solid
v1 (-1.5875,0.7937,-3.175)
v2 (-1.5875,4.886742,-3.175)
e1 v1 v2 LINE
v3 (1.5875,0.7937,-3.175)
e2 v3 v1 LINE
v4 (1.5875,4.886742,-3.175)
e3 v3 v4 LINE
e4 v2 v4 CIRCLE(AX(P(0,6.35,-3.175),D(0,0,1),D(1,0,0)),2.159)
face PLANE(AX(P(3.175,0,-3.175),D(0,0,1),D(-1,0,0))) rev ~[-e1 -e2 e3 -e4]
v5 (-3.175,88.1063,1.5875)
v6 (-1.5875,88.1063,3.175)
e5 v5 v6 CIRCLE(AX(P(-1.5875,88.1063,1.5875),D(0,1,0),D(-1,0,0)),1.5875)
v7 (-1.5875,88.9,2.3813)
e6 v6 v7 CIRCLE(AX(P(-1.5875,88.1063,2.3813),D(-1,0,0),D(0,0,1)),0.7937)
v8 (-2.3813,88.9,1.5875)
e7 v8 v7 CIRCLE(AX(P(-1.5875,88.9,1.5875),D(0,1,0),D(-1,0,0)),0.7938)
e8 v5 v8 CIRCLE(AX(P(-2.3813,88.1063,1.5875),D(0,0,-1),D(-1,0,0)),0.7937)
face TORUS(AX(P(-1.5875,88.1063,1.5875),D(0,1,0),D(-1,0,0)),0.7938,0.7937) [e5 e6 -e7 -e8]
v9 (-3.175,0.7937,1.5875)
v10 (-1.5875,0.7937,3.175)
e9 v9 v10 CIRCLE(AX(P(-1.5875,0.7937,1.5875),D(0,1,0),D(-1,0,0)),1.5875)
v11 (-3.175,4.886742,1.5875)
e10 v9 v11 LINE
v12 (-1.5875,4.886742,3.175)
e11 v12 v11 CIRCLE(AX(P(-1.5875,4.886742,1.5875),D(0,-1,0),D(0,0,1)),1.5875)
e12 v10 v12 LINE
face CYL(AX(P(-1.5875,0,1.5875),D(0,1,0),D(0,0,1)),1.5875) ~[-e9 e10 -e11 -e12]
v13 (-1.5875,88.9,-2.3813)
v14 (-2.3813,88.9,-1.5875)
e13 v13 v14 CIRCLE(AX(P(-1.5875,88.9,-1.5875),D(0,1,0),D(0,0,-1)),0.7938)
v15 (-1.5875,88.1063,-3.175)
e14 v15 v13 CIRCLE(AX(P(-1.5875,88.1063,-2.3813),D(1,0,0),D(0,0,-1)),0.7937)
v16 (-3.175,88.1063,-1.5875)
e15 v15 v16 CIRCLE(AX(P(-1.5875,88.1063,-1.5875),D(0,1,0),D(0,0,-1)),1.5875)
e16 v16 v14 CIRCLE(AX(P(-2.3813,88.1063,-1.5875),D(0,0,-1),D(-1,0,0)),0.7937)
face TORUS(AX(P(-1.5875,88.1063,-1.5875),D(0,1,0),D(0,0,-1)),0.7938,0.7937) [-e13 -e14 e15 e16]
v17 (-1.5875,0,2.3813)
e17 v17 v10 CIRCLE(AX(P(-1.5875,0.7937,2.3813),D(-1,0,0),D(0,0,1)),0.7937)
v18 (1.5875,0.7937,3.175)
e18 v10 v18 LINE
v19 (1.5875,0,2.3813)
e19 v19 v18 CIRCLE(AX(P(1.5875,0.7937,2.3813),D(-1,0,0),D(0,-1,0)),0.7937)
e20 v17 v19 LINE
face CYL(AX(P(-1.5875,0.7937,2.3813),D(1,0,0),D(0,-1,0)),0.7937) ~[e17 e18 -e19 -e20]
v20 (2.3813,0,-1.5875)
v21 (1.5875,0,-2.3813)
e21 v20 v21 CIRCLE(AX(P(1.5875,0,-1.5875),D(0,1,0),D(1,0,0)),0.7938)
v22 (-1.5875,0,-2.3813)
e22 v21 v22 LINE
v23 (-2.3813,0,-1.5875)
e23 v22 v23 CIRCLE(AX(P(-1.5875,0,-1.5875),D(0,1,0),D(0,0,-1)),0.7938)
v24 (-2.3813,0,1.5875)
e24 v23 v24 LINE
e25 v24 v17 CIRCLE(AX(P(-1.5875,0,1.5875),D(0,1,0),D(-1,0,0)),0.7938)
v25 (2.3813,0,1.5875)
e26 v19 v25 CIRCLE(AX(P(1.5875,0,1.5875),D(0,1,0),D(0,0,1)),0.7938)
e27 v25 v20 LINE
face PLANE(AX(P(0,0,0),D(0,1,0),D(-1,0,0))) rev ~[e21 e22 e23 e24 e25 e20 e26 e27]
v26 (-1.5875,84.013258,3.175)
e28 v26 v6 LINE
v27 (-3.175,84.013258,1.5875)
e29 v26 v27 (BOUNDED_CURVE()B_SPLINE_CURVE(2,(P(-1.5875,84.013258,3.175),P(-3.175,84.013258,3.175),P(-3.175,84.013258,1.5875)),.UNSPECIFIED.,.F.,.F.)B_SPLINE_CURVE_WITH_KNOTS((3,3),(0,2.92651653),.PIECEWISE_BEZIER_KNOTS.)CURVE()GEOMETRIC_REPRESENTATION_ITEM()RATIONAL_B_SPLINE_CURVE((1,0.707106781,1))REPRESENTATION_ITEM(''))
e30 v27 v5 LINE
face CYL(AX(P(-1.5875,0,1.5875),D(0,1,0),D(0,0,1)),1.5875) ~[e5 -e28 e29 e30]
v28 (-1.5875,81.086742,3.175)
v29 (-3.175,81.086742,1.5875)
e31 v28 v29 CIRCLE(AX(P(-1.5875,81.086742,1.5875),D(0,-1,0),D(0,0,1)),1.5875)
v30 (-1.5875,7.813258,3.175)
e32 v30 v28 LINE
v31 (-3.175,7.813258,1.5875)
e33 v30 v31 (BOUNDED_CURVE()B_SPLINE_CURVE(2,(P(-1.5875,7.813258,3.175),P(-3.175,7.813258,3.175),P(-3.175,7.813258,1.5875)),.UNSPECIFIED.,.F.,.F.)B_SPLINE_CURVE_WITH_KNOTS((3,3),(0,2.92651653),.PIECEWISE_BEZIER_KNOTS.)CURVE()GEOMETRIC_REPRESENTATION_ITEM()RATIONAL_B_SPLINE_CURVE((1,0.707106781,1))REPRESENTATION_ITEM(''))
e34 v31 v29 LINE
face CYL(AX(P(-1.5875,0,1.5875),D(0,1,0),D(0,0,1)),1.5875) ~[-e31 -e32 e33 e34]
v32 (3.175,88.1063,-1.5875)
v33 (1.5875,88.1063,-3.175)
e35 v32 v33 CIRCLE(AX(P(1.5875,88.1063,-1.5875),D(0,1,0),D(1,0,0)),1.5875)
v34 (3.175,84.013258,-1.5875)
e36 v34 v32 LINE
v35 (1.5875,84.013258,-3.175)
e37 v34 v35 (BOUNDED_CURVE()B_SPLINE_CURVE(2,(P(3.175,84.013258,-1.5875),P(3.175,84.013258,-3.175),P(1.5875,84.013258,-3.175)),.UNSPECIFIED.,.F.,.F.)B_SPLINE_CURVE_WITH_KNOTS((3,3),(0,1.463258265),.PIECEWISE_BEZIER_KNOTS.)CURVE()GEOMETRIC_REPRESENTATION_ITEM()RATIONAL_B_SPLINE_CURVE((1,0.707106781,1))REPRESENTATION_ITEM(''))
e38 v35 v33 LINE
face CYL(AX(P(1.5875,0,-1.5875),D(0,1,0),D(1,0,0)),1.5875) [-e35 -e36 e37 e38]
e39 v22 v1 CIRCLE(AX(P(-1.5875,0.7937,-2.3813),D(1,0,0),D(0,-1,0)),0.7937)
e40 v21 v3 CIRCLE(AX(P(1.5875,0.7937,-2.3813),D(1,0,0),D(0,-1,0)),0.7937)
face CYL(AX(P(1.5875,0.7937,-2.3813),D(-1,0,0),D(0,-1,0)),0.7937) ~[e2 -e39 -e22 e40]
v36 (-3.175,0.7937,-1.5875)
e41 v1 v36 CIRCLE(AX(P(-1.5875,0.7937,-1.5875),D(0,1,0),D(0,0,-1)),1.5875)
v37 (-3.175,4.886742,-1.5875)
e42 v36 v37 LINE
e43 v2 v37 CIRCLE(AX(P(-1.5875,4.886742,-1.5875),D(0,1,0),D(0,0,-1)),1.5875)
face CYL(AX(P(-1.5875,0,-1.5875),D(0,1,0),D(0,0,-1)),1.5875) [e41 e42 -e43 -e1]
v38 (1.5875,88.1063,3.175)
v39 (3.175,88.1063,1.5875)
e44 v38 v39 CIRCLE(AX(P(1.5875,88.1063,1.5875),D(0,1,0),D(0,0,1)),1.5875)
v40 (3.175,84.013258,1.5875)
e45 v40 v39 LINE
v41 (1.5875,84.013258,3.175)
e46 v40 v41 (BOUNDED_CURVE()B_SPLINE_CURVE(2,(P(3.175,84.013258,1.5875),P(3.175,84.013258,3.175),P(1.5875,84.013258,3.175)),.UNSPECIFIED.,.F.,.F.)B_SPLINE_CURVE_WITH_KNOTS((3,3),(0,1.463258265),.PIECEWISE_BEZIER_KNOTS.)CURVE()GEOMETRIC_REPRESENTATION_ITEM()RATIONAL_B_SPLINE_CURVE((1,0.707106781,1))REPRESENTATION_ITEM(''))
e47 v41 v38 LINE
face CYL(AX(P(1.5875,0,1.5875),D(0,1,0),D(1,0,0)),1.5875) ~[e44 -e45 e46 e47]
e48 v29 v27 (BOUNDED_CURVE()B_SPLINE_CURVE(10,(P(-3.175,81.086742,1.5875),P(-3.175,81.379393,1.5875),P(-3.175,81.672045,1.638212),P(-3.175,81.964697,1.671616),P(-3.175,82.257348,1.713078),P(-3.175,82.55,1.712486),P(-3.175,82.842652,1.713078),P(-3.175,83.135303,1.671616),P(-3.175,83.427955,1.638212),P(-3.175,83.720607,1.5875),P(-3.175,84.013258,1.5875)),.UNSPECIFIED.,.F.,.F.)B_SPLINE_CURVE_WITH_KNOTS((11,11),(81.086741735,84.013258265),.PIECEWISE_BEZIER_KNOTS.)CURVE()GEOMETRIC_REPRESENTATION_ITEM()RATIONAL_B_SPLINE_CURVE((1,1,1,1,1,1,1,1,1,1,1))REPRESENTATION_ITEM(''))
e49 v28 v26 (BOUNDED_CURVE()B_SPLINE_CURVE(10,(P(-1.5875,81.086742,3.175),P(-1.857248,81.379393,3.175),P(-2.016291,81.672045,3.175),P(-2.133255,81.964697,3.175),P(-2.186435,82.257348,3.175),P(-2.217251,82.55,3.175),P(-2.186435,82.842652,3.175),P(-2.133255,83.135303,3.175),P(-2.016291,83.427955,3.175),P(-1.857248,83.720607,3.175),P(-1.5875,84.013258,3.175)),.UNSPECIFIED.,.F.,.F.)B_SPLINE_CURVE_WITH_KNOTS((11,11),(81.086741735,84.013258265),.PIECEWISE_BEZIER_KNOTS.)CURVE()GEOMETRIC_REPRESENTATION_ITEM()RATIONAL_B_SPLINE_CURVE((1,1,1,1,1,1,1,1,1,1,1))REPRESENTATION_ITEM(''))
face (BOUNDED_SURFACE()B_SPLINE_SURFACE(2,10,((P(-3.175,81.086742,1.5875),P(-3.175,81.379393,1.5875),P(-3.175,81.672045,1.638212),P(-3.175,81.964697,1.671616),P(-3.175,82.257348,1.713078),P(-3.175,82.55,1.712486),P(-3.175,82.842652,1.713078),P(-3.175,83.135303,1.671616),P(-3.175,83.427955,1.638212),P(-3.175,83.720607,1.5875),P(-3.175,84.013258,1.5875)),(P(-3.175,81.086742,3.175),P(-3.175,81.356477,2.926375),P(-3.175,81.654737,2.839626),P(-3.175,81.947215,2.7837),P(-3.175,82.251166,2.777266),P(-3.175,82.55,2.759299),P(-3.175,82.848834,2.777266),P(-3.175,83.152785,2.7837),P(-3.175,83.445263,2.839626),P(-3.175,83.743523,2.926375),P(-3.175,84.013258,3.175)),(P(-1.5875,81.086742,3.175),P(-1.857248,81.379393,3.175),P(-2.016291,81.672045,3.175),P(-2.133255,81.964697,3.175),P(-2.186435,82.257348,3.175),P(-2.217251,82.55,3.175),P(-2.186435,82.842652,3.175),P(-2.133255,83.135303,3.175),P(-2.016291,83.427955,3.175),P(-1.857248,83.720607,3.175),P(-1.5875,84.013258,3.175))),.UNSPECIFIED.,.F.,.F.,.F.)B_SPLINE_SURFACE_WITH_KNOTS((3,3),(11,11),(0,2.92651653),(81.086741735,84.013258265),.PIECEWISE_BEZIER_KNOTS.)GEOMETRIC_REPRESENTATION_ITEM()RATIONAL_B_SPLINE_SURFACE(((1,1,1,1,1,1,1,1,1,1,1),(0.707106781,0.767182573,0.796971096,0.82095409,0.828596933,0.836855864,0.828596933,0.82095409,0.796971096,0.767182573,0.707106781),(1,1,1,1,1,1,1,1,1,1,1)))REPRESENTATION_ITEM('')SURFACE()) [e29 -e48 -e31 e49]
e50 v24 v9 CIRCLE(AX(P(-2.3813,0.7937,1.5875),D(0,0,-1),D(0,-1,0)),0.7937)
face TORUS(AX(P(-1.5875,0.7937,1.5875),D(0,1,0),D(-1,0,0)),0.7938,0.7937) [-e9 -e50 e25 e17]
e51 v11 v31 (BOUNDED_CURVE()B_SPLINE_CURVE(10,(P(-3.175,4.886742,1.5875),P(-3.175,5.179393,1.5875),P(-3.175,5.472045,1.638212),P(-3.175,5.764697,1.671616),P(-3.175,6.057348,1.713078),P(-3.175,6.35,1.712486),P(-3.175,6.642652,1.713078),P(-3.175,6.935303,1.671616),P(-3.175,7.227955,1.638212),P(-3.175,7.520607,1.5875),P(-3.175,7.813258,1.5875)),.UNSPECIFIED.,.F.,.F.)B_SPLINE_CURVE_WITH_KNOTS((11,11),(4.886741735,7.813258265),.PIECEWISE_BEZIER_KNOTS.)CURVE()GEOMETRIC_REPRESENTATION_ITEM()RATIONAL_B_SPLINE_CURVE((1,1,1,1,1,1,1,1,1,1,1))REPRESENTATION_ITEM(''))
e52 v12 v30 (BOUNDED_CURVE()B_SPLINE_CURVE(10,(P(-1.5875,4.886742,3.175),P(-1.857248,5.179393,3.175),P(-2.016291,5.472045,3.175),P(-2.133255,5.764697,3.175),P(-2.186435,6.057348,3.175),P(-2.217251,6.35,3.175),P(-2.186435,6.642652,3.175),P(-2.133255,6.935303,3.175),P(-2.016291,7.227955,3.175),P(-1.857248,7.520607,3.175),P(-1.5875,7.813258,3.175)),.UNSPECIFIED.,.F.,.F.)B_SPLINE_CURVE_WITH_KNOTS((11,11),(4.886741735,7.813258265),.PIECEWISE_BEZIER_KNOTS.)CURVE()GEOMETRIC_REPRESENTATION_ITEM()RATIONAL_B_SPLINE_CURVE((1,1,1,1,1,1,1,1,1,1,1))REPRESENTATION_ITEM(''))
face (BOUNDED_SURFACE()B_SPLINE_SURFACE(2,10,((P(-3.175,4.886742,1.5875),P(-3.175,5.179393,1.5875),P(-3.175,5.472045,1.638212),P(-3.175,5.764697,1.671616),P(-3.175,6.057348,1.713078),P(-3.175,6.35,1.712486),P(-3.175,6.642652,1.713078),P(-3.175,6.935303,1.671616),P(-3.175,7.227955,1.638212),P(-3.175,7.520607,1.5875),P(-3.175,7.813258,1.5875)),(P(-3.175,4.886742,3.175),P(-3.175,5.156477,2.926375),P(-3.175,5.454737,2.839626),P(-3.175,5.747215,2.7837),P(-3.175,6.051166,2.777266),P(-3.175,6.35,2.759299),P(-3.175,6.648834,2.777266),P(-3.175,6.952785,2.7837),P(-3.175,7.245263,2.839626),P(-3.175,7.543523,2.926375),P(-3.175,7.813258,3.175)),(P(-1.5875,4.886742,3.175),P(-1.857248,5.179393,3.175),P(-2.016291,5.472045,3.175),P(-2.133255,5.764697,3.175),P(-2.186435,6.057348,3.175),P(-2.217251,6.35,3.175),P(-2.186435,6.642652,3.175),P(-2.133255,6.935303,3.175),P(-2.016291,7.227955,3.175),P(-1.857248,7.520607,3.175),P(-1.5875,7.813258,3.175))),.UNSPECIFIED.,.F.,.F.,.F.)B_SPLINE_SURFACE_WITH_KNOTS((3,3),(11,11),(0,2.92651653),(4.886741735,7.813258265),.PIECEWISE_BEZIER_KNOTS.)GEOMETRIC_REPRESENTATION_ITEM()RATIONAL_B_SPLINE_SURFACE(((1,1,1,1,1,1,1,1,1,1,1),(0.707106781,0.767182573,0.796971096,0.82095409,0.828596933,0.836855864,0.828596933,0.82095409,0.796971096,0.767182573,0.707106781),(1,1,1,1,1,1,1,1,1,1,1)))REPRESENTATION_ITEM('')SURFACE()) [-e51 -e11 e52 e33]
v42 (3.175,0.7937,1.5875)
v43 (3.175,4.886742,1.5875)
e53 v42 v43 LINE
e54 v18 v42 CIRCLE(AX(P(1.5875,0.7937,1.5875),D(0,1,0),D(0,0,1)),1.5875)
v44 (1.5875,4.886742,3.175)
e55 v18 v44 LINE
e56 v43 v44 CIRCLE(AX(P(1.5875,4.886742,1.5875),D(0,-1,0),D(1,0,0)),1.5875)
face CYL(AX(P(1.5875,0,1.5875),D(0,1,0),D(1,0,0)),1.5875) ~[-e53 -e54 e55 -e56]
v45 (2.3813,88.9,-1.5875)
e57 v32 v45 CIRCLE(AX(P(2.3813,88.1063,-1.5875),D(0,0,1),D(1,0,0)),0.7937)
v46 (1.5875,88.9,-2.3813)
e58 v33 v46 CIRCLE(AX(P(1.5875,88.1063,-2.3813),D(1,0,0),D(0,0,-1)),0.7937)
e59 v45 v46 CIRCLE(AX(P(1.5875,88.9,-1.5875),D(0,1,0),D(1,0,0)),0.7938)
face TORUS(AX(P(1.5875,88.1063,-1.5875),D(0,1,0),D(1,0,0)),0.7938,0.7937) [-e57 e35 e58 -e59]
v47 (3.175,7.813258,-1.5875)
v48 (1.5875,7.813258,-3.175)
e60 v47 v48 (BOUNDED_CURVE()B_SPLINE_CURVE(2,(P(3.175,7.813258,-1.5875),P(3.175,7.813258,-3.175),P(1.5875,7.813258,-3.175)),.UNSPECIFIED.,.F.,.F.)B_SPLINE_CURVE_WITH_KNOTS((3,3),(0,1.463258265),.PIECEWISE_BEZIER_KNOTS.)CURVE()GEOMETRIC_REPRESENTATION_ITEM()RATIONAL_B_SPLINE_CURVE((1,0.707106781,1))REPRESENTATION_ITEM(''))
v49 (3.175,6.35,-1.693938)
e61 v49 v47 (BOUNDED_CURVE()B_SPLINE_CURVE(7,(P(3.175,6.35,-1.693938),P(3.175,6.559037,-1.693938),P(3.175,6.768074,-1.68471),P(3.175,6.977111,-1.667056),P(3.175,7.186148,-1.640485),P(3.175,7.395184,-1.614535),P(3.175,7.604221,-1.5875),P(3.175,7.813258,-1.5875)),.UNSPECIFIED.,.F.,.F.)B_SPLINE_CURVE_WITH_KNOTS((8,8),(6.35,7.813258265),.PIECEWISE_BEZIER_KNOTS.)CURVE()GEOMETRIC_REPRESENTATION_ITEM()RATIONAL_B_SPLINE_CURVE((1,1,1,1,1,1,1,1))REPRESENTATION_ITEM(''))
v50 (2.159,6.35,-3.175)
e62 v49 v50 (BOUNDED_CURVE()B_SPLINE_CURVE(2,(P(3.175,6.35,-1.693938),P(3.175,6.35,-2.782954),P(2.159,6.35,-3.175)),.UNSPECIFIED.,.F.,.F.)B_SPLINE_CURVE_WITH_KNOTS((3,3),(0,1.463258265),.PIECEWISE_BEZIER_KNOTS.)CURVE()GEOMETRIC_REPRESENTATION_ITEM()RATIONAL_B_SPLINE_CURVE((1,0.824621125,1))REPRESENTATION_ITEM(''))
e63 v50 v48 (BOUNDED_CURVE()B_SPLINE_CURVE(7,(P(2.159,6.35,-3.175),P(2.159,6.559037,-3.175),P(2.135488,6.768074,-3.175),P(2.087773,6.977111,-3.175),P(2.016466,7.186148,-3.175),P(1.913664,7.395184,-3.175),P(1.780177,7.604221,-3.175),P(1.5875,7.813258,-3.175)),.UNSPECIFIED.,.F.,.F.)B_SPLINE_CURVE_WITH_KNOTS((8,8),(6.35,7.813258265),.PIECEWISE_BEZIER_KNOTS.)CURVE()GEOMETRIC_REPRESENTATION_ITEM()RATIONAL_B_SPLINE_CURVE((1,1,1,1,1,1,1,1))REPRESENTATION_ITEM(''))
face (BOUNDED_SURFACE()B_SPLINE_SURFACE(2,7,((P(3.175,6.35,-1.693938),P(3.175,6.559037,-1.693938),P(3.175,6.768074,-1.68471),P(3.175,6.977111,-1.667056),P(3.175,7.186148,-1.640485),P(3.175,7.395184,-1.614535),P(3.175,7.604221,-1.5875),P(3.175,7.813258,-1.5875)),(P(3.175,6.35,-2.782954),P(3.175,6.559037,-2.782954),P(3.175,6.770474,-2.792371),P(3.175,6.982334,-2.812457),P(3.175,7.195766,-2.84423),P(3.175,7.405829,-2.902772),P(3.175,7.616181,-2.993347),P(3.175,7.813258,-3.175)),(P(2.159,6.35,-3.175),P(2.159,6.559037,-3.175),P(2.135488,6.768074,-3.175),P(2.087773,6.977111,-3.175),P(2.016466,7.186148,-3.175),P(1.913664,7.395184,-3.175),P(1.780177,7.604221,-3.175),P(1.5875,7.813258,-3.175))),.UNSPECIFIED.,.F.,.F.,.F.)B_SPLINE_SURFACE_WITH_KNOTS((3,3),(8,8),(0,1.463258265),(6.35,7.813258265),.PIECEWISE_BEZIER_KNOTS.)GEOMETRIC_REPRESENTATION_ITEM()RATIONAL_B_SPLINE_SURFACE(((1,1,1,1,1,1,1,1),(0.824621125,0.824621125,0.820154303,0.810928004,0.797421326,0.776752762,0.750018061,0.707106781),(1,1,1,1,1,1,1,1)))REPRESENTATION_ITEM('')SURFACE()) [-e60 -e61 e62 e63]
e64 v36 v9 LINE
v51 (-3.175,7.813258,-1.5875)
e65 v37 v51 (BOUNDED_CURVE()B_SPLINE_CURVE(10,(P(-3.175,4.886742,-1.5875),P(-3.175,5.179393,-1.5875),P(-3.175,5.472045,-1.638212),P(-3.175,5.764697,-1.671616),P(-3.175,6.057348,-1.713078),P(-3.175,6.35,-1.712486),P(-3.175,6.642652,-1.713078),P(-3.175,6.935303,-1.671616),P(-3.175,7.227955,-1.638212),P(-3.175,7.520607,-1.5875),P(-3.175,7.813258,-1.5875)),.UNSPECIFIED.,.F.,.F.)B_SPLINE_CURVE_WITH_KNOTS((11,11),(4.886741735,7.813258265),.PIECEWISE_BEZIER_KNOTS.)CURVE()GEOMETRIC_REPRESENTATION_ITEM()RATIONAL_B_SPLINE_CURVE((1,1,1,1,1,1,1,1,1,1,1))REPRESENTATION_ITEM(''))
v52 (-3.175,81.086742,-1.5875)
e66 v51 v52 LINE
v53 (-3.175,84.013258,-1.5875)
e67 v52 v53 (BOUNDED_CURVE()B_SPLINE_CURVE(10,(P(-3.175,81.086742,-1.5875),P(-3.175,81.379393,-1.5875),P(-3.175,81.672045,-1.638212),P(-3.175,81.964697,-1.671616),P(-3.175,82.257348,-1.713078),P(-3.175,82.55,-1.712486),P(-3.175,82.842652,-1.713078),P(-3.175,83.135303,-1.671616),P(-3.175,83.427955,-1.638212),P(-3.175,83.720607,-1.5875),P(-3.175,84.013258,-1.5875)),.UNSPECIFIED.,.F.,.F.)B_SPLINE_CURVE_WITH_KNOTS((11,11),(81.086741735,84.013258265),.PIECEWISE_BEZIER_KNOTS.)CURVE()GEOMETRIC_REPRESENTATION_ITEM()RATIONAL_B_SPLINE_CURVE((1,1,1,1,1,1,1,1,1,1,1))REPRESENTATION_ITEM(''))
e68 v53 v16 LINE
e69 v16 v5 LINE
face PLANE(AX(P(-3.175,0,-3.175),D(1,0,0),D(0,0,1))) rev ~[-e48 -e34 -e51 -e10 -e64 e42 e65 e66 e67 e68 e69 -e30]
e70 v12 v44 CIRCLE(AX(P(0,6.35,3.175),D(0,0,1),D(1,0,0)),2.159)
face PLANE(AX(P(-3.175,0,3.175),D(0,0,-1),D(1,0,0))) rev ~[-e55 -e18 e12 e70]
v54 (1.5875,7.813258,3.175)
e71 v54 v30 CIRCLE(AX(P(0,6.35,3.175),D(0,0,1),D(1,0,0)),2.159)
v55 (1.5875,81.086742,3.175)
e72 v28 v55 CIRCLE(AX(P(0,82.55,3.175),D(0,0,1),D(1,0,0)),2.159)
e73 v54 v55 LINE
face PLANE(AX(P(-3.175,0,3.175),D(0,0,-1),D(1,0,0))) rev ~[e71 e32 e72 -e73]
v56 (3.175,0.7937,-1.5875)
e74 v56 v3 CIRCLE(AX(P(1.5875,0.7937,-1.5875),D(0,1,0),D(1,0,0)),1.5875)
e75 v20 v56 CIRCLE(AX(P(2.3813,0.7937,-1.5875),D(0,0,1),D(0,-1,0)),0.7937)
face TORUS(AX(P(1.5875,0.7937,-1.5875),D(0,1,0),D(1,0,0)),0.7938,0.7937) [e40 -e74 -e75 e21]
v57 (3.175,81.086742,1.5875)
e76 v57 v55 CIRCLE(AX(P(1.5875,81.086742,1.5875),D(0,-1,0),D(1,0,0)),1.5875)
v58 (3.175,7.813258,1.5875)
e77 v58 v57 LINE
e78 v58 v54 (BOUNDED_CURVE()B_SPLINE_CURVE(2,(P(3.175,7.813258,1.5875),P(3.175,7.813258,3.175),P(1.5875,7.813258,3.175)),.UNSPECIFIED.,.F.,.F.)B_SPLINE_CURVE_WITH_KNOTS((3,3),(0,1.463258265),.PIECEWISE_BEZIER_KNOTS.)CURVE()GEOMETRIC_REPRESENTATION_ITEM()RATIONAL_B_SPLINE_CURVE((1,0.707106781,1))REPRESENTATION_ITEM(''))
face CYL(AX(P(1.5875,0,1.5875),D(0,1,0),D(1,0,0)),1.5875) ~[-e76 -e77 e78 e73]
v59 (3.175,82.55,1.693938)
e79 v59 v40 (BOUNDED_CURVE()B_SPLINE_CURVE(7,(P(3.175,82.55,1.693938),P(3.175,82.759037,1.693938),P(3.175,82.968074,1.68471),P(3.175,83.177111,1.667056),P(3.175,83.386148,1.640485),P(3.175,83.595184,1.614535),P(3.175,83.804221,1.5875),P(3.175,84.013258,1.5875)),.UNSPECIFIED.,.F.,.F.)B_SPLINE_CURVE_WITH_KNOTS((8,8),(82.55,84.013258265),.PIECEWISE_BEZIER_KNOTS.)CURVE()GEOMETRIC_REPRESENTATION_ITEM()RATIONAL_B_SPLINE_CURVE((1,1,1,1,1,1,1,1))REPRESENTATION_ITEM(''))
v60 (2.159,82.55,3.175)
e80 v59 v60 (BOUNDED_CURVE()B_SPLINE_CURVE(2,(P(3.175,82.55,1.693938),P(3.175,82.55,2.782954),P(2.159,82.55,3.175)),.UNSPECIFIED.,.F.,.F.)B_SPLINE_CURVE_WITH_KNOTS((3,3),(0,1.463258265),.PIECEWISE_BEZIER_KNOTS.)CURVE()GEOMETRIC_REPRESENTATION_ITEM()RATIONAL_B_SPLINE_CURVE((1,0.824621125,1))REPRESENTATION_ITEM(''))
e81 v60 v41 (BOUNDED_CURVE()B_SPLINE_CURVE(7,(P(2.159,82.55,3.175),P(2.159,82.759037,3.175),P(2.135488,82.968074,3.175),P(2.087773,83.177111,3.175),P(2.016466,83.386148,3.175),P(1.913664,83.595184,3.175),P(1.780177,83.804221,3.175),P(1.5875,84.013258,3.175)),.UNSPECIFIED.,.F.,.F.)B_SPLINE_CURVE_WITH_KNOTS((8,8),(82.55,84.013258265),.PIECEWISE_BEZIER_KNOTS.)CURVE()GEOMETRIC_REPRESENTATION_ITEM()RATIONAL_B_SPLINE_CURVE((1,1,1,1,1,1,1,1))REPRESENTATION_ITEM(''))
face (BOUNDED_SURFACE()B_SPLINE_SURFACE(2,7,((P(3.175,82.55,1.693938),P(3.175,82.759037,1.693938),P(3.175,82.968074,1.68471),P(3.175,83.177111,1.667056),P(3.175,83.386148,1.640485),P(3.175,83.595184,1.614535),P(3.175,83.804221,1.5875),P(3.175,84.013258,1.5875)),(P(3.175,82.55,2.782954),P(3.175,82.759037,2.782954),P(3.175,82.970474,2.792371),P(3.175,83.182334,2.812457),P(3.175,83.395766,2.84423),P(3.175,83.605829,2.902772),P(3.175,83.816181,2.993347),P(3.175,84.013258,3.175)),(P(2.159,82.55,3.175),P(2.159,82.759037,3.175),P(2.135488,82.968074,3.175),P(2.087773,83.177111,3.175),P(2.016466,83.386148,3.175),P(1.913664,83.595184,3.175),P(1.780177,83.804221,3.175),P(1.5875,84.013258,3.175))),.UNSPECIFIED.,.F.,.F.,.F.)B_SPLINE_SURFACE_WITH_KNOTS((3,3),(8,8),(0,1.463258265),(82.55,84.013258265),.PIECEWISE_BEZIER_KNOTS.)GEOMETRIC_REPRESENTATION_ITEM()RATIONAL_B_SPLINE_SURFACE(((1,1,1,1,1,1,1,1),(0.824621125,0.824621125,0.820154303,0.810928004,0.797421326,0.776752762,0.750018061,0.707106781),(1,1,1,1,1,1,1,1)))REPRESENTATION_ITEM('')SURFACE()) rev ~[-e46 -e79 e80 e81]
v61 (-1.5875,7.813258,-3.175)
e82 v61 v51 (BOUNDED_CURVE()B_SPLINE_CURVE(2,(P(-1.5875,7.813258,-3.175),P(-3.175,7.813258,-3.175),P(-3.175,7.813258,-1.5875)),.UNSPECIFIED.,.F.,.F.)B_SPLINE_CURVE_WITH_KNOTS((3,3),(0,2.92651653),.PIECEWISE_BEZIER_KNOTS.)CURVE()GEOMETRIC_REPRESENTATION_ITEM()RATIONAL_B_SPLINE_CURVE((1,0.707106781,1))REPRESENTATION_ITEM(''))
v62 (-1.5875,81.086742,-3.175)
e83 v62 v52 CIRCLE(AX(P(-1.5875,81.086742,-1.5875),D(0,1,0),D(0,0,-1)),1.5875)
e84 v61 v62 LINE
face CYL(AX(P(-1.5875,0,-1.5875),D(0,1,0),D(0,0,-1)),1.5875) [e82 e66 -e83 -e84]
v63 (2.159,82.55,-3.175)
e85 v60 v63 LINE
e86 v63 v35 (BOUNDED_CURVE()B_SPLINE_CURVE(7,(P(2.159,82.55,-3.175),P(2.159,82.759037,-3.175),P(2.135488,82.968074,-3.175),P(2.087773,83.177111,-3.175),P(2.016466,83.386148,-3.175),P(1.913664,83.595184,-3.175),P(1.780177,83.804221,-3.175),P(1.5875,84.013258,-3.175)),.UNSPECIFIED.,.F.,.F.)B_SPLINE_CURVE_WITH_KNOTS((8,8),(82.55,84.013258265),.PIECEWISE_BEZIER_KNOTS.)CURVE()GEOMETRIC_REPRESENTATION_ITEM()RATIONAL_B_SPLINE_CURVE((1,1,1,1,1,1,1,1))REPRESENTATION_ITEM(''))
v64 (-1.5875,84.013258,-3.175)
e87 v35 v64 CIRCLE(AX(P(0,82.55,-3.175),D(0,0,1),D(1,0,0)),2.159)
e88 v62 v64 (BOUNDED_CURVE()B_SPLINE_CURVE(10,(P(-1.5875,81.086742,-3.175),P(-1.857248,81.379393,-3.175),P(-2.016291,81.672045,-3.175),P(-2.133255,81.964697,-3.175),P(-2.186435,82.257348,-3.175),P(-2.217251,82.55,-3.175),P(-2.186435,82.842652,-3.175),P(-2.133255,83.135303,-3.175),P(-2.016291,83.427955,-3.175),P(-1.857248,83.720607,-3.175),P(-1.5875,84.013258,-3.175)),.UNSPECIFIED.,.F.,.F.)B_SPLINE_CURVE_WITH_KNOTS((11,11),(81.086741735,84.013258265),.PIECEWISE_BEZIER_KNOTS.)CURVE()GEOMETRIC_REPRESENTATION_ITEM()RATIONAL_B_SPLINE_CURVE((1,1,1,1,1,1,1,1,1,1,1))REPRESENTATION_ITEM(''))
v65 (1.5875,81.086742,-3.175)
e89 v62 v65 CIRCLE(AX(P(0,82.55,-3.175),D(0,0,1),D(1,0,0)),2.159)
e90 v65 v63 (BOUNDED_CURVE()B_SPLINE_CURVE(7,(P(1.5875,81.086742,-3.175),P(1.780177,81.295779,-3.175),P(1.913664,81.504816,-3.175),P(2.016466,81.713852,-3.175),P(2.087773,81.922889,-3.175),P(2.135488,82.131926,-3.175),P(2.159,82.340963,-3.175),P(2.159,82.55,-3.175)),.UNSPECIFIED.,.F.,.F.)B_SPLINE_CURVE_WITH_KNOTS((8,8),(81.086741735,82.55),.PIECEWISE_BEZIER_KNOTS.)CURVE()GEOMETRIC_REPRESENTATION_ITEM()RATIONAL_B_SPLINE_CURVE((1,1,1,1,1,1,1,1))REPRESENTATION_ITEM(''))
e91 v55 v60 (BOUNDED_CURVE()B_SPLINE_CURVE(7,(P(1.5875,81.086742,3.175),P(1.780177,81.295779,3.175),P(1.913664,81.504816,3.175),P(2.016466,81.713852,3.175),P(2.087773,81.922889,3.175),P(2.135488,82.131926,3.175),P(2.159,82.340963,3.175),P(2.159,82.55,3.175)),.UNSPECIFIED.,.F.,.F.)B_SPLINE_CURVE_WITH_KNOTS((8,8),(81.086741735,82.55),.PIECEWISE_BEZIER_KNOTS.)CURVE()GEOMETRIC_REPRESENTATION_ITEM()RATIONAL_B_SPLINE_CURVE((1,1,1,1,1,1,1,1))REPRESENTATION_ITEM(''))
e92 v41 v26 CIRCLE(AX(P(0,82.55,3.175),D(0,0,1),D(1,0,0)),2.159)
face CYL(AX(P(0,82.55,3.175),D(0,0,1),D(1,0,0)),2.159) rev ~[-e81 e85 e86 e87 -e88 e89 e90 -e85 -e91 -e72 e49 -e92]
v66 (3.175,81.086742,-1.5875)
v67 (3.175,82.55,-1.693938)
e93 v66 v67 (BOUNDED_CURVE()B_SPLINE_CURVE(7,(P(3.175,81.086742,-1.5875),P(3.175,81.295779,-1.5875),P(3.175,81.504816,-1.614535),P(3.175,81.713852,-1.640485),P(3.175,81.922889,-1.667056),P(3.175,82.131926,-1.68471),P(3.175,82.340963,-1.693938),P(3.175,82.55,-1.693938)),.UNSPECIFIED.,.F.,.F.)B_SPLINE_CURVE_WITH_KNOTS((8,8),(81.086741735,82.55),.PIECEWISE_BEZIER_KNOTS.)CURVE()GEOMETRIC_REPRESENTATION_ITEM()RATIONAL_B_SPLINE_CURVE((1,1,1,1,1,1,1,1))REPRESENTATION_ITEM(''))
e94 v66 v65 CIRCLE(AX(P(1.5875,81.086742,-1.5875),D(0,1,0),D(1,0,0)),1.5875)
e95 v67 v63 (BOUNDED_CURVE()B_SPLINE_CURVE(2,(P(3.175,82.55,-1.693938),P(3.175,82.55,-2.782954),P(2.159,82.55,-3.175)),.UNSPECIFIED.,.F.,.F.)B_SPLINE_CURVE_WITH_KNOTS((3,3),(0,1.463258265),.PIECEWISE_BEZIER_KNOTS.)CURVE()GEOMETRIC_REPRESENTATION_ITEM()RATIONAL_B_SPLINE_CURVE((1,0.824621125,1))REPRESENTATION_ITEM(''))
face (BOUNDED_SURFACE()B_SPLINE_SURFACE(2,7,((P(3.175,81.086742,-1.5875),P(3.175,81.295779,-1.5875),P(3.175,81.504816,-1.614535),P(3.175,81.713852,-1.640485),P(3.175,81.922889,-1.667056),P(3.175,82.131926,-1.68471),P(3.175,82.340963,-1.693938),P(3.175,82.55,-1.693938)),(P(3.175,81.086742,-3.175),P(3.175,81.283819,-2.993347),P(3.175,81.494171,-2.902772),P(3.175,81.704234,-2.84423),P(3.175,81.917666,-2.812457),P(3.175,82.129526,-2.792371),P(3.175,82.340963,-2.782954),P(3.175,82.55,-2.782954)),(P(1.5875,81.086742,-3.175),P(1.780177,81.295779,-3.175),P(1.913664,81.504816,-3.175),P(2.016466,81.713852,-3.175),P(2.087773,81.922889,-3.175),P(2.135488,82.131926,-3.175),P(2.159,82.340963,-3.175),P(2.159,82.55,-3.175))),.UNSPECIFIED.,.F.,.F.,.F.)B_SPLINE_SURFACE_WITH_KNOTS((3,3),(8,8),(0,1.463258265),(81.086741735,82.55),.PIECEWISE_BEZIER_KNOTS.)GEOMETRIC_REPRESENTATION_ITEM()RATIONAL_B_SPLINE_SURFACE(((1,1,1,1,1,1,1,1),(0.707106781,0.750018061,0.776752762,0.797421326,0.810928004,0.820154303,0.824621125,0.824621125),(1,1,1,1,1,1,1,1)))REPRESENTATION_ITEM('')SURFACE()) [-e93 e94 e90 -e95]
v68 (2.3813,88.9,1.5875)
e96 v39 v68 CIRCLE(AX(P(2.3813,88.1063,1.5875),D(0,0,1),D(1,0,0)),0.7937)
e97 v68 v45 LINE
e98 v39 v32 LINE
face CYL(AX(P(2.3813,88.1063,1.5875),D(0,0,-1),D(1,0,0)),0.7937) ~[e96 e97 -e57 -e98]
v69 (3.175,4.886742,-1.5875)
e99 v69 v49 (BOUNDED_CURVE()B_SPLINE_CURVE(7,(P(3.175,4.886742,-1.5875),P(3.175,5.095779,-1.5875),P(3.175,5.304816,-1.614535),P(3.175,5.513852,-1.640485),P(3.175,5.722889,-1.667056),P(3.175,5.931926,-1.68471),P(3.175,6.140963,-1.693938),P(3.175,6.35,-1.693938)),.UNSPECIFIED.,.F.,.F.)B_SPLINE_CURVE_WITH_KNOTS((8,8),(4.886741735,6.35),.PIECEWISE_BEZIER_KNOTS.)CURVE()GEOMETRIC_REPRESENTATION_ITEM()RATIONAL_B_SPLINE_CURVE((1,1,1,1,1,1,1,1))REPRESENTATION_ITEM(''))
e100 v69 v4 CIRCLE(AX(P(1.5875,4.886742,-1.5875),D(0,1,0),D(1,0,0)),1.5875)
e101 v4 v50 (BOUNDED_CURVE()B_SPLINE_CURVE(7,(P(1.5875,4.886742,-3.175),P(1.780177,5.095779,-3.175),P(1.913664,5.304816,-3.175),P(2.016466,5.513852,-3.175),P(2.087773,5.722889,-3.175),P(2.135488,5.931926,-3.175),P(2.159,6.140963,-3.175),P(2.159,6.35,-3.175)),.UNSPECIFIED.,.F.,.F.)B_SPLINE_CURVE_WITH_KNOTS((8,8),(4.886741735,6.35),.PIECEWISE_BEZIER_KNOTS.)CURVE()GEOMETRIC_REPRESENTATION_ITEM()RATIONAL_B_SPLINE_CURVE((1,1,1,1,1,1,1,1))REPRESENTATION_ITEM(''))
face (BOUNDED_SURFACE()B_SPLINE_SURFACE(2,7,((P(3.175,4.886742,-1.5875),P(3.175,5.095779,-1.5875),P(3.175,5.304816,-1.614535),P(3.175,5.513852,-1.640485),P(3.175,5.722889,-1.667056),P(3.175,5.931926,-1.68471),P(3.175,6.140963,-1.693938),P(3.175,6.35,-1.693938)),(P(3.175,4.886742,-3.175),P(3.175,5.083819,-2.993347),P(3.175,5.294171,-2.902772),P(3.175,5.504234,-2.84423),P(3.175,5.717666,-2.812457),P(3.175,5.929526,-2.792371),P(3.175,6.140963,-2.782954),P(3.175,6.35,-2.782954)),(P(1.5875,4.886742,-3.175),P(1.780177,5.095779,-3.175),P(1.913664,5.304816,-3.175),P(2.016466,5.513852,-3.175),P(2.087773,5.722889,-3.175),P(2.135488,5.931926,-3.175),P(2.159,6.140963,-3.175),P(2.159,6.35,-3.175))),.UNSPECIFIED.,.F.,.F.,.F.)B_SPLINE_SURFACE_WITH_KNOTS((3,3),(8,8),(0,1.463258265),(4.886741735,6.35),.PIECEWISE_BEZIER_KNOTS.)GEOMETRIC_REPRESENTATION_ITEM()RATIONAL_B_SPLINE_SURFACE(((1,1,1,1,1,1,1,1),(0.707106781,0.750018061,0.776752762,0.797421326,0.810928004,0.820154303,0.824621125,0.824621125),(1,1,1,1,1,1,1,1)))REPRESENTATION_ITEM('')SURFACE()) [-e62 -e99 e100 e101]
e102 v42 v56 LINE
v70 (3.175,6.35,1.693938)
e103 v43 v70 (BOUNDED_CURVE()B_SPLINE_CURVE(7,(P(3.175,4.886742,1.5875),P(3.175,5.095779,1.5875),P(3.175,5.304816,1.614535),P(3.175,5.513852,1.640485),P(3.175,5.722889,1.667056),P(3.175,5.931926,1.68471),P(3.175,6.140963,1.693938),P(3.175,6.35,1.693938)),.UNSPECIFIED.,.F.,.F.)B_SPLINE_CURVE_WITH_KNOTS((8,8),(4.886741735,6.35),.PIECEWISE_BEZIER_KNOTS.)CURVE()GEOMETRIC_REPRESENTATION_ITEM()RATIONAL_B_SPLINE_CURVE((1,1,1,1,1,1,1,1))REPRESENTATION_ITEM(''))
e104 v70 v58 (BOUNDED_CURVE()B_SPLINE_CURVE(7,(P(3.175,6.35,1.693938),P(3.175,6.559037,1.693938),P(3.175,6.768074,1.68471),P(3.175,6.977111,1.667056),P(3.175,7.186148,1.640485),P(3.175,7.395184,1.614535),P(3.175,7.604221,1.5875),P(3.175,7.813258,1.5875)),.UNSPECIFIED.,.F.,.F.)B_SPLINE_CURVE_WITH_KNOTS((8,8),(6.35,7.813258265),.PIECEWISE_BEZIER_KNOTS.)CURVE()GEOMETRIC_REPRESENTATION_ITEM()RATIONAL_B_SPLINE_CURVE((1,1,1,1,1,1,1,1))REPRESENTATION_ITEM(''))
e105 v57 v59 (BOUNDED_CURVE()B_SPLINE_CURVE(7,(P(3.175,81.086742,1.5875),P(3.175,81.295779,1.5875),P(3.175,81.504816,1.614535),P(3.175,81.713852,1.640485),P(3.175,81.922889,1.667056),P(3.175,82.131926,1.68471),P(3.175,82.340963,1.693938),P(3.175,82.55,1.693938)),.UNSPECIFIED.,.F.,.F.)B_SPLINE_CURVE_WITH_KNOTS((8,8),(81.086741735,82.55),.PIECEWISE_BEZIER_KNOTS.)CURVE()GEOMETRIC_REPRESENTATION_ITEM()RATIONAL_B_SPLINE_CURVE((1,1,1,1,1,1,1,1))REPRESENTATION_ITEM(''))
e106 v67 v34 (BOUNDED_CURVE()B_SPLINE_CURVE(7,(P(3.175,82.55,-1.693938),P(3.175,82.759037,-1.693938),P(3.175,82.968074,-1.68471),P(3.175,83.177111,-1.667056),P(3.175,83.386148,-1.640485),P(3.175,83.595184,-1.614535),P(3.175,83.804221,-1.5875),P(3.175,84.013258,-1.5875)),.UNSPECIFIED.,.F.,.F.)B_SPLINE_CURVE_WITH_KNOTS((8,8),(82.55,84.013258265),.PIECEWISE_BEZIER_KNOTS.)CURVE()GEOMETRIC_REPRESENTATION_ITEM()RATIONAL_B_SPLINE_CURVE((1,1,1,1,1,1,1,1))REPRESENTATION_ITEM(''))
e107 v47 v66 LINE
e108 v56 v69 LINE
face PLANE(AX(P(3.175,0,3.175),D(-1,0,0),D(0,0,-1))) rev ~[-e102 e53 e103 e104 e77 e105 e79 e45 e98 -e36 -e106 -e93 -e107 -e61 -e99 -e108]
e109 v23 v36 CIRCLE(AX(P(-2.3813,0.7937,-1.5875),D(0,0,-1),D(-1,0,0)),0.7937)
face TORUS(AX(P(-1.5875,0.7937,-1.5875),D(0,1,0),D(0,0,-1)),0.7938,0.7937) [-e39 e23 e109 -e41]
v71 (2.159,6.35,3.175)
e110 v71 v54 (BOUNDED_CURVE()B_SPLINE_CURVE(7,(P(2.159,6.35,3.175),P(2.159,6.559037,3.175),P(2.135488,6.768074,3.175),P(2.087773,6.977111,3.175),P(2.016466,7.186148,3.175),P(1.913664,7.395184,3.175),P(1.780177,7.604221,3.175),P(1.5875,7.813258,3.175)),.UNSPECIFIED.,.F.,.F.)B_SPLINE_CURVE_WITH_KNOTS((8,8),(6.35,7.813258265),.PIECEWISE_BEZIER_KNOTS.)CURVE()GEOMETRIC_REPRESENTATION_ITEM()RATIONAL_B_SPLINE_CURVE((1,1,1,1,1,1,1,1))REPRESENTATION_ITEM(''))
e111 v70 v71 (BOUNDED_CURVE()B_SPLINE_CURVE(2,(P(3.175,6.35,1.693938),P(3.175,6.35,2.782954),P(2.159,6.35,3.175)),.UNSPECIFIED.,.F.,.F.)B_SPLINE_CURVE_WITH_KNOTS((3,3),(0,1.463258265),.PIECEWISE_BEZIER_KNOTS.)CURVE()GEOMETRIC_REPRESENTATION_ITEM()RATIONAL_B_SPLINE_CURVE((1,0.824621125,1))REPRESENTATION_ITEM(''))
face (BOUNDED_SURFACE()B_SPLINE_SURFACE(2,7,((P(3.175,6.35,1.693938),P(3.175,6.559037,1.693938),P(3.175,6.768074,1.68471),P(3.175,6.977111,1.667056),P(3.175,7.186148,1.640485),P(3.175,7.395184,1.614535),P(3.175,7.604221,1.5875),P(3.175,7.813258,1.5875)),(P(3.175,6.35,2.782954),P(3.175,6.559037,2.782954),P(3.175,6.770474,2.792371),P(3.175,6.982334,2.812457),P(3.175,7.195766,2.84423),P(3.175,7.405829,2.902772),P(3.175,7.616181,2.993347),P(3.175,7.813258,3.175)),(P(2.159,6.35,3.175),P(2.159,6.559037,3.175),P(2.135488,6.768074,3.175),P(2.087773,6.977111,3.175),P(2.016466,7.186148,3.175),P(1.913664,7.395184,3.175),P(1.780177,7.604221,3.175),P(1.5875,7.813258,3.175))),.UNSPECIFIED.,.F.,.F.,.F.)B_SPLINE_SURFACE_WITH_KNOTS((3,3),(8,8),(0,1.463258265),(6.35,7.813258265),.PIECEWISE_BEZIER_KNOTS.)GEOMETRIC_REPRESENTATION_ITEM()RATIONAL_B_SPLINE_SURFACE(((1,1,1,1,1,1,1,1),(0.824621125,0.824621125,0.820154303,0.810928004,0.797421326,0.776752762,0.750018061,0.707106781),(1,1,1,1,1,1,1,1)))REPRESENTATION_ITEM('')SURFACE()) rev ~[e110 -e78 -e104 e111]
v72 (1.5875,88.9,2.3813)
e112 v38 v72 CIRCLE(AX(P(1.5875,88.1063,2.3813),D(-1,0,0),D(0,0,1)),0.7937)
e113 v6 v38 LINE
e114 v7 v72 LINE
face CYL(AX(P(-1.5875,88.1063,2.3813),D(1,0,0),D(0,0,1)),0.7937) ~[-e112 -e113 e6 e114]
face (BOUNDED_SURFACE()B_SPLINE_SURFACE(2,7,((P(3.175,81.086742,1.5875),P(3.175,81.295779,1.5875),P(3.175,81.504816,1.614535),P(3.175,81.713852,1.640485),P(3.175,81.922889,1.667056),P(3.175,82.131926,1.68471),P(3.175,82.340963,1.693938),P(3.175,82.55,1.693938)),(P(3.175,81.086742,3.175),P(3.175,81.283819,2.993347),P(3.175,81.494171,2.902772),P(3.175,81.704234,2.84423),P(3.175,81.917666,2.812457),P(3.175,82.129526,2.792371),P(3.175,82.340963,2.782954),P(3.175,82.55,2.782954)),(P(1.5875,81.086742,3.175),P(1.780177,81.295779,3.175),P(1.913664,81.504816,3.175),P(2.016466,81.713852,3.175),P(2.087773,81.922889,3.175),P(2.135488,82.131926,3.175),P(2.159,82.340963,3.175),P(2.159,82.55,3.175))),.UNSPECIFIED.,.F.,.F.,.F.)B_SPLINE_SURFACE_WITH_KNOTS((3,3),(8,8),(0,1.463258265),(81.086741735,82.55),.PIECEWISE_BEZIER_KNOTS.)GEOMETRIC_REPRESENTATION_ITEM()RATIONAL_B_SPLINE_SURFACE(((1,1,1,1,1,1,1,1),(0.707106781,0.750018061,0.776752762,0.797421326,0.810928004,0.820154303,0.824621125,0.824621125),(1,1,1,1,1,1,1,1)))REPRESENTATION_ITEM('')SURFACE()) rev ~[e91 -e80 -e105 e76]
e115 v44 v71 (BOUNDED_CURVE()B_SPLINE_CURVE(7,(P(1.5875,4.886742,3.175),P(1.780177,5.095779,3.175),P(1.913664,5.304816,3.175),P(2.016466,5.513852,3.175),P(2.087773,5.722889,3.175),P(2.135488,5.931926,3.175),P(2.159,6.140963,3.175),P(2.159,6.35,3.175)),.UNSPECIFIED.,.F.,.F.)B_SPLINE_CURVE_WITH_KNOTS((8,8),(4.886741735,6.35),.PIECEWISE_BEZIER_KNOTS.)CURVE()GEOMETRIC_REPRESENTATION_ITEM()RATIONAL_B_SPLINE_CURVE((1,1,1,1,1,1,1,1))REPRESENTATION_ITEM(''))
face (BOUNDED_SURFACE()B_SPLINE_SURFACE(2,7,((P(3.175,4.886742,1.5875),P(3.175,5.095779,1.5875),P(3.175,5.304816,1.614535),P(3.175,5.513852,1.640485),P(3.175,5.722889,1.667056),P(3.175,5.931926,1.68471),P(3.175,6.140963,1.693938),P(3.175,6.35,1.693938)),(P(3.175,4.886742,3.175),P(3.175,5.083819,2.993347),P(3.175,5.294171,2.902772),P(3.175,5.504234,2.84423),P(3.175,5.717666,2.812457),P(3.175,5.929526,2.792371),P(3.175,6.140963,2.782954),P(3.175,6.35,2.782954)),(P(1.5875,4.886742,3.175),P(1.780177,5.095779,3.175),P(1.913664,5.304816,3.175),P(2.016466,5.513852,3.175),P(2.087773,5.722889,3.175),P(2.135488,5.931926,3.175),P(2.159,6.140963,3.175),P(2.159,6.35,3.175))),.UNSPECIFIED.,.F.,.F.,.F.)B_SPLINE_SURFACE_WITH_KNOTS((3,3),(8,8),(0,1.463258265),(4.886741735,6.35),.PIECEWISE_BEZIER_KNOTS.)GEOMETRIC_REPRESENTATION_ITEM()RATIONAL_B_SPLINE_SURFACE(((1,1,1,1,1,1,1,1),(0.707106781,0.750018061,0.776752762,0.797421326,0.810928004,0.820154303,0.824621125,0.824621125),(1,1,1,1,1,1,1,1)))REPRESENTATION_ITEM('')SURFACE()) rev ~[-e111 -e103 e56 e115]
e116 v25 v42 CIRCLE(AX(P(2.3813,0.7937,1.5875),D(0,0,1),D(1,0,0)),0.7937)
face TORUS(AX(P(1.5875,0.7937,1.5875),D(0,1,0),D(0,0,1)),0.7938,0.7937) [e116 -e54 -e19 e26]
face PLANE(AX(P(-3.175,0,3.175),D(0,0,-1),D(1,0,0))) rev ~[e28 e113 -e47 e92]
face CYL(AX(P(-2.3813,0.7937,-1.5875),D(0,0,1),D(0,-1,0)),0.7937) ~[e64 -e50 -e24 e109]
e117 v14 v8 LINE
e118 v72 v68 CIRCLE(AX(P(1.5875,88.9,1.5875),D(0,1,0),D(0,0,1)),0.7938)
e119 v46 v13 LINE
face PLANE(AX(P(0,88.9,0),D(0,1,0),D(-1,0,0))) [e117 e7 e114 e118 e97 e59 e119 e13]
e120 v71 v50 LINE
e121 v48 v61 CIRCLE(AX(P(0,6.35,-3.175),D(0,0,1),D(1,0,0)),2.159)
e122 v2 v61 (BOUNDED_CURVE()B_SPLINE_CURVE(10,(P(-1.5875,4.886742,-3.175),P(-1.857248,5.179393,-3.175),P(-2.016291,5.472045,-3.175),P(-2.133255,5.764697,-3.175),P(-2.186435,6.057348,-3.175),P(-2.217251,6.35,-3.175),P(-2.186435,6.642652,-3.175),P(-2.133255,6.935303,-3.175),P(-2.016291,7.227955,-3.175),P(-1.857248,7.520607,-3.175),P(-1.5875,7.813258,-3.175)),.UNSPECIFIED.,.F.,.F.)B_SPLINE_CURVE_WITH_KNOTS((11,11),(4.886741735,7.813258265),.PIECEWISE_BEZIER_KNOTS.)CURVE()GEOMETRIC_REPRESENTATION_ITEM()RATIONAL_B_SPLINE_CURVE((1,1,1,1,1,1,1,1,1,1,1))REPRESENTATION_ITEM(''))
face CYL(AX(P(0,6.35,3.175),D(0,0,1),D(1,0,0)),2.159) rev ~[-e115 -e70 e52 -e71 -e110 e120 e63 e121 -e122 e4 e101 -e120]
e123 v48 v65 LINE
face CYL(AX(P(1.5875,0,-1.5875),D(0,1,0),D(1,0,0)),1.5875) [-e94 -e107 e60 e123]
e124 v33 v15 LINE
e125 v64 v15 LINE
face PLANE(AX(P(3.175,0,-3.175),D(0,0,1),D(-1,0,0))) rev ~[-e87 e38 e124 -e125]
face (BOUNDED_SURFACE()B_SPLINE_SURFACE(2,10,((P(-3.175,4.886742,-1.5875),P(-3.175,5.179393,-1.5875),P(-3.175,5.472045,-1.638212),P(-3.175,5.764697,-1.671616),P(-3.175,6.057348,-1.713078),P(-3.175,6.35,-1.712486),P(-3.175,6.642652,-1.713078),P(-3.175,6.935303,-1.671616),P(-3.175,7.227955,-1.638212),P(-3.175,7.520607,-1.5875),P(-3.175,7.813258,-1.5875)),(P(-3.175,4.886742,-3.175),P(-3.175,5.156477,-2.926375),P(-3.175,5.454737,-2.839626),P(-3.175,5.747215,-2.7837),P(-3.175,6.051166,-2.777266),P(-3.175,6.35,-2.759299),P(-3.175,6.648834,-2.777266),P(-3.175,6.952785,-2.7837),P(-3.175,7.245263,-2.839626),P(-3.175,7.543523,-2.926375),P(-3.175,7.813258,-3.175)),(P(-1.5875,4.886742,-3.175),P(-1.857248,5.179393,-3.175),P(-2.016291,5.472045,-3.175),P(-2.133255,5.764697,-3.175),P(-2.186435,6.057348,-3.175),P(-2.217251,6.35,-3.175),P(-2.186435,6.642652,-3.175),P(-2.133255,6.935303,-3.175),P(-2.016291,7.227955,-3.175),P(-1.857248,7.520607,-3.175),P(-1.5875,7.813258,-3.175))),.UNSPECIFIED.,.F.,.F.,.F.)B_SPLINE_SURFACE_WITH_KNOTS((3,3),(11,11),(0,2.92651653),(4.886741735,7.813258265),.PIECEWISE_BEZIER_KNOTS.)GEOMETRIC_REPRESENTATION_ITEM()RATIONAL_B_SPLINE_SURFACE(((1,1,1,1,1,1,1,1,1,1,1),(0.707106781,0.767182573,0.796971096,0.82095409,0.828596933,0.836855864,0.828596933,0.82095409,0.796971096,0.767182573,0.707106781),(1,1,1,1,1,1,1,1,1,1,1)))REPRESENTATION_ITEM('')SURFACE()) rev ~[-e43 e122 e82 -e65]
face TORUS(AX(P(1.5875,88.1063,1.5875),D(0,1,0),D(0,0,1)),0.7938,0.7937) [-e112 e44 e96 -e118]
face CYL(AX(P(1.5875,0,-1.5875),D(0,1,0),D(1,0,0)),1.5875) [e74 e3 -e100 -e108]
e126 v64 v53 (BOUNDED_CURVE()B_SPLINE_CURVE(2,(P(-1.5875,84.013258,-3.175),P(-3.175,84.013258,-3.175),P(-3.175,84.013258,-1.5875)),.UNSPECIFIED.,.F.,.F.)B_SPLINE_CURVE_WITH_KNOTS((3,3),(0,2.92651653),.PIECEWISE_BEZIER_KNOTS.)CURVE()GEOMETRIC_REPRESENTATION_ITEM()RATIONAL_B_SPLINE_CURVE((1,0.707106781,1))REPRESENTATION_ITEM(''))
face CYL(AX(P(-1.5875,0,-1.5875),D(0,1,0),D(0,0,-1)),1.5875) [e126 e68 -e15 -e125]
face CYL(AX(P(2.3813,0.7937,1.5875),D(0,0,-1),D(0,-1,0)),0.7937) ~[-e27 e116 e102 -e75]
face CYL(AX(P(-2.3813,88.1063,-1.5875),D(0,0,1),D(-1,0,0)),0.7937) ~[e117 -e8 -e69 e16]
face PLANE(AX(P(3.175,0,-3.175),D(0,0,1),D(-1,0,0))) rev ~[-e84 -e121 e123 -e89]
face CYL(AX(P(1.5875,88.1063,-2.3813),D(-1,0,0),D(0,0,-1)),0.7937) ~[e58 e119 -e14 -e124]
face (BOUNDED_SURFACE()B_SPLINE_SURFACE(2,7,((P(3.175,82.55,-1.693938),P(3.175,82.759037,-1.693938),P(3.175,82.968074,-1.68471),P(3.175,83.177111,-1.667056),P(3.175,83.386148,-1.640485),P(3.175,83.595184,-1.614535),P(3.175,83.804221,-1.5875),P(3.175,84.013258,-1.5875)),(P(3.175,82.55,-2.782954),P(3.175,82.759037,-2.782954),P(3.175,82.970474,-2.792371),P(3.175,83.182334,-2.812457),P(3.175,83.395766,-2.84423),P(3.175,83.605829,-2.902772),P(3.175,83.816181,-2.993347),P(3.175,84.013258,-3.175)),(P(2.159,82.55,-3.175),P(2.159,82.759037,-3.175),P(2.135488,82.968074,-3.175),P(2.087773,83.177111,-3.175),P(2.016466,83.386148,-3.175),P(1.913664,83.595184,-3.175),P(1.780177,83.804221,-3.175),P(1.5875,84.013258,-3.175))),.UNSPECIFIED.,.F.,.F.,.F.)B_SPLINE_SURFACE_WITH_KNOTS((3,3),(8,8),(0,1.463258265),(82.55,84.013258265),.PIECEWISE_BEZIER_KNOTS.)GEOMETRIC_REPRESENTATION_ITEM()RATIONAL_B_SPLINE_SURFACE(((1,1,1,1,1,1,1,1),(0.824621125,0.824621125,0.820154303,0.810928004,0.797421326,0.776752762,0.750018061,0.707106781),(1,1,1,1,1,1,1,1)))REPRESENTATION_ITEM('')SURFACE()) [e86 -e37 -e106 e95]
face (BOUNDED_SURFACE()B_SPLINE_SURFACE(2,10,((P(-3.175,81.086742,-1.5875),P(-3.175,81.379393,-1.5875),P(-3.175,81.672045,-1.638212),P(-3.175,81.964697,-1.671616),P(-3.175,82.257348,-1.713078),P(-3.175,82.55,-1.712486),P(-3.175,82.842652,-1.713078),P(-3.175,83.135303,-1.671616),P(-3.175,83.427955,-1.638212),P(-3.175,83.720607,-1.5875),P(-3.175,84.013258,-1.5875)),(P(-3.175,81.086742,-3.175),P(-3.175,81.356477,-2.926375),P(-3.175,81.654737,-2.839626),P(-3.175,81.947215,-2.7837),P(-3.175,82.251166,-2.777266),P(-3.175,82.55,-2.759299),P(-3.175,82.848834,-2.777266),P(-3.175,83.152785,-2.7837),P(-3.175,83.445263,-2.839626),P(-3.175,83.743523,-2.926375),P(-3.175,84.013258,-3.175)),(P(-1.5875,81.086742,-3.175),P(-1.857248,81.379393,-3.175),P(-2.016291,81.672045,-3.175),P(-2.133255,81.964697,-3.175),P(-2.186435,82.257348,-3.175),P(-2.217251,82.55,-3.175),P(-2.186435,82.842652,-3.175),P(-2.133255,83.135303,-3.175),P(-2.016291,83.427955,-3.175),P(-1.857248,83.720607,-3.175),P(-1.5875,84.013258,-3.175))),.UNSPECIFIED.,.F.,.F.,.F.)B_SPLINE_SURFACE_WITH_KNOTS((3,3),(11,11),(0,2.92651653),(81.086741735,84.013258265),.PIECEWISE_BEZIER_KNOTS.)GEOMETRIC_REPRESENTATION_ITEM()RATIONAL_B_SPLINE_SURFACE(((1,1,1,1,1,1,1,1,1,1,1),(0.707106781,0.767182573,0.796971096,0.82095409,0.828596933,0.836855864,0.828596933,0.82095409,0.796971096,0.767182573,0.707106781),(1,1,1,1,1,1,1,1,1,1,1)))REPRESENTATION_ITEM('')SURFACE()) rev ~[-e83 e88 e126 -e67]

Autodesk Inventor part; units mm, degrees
ref_plane "YZ Plane" through (0, 0, 0) normal (1, 0, 0) x (0, 1, 0)
ref_plane "XZ Plane" through (0, 0, 0) normal (0, 1, 0) x (-1, 0, 0)
ref_plane "XY Plane" through (0, 0, 0) normal (0, 0, 1) x (1, 0, 0)
sketch "Sketch1" plane through (0, 0, 0) normal (0, 1, 0) x (-1, 0, 0)
  line L0 (-3.175, -3.175) -> (3.175, -3.175)
  line L1 (3.175, -3.175) -> (3.175, 3.175)
  line L2 (3.175, 3.175) -> (-3.175, 3.175)
  line L3 (-3.175, 3.175) -> (-3.175, -3.175)
  line L4 (-3.175, -3.175) -> (3.175, 3.175) construction
  line L5 (3.175, -3.175) -> (-3.175, 3.175) construction
  point P0 (0, 0)
  dimension "d0" = 6.35
  dimension "d1" = 6.35
extrude "Extrusion1" add sketch "Sketch1" along normal blind 88.9
sketch "Sketch2" plane through (-3.175, 0, 3.175) normal (0, 0, 1) x (1, 0, 0)
  circle A0 centre (3.175, 6.35) radius 2.159
  line L0 (0, 0) -> (6.35, 0) projected
  circle A1 centre (3.175, 82.55) radius 2.159
  line L1 (0, 88.9) -> (6.35, 88.9) projected
  point P0 (3.175, 0)
  dimension "d4" = 4.318
  dimension "d5" = 6.35
  dimension "d6" = 4.318
  dimension "d7" = 6.35
extrude "Extrusion2" cut sketch "Sketch2" against normal blind 88.9
fillet "Fillet1" radius 1.5875 4 edges at (3.175, 44.45, -3.175) (-3.175, 44.45, -3.175) (3.175, 44.45, 3.175) (-3.175, 44.45, 3.175)
fillet "Fillet2" radius 0.7937 16 edges at (2.71, 88.9, -2.71) (0, 88.9, -3.175) (-2.71, 88.9, -2.71) (-3.175, 88.9, 0) (-2.71, 88.9, 2.71) (0, 88.9, 3.175) (2.71, 88.9, 2.71) (3.175, 88.9, 0) (0, 0, -3.175) (-2.71, 0, -2.71) (-3.175, 0, 0) (-2.71, 0, 2.71) (0, 0, 3.175) (2.71, 0, 2.71) (3.175, 0, 0) (2.71, 0, -2.71)
properties part number "45 stop" material "Stainless Steel"
